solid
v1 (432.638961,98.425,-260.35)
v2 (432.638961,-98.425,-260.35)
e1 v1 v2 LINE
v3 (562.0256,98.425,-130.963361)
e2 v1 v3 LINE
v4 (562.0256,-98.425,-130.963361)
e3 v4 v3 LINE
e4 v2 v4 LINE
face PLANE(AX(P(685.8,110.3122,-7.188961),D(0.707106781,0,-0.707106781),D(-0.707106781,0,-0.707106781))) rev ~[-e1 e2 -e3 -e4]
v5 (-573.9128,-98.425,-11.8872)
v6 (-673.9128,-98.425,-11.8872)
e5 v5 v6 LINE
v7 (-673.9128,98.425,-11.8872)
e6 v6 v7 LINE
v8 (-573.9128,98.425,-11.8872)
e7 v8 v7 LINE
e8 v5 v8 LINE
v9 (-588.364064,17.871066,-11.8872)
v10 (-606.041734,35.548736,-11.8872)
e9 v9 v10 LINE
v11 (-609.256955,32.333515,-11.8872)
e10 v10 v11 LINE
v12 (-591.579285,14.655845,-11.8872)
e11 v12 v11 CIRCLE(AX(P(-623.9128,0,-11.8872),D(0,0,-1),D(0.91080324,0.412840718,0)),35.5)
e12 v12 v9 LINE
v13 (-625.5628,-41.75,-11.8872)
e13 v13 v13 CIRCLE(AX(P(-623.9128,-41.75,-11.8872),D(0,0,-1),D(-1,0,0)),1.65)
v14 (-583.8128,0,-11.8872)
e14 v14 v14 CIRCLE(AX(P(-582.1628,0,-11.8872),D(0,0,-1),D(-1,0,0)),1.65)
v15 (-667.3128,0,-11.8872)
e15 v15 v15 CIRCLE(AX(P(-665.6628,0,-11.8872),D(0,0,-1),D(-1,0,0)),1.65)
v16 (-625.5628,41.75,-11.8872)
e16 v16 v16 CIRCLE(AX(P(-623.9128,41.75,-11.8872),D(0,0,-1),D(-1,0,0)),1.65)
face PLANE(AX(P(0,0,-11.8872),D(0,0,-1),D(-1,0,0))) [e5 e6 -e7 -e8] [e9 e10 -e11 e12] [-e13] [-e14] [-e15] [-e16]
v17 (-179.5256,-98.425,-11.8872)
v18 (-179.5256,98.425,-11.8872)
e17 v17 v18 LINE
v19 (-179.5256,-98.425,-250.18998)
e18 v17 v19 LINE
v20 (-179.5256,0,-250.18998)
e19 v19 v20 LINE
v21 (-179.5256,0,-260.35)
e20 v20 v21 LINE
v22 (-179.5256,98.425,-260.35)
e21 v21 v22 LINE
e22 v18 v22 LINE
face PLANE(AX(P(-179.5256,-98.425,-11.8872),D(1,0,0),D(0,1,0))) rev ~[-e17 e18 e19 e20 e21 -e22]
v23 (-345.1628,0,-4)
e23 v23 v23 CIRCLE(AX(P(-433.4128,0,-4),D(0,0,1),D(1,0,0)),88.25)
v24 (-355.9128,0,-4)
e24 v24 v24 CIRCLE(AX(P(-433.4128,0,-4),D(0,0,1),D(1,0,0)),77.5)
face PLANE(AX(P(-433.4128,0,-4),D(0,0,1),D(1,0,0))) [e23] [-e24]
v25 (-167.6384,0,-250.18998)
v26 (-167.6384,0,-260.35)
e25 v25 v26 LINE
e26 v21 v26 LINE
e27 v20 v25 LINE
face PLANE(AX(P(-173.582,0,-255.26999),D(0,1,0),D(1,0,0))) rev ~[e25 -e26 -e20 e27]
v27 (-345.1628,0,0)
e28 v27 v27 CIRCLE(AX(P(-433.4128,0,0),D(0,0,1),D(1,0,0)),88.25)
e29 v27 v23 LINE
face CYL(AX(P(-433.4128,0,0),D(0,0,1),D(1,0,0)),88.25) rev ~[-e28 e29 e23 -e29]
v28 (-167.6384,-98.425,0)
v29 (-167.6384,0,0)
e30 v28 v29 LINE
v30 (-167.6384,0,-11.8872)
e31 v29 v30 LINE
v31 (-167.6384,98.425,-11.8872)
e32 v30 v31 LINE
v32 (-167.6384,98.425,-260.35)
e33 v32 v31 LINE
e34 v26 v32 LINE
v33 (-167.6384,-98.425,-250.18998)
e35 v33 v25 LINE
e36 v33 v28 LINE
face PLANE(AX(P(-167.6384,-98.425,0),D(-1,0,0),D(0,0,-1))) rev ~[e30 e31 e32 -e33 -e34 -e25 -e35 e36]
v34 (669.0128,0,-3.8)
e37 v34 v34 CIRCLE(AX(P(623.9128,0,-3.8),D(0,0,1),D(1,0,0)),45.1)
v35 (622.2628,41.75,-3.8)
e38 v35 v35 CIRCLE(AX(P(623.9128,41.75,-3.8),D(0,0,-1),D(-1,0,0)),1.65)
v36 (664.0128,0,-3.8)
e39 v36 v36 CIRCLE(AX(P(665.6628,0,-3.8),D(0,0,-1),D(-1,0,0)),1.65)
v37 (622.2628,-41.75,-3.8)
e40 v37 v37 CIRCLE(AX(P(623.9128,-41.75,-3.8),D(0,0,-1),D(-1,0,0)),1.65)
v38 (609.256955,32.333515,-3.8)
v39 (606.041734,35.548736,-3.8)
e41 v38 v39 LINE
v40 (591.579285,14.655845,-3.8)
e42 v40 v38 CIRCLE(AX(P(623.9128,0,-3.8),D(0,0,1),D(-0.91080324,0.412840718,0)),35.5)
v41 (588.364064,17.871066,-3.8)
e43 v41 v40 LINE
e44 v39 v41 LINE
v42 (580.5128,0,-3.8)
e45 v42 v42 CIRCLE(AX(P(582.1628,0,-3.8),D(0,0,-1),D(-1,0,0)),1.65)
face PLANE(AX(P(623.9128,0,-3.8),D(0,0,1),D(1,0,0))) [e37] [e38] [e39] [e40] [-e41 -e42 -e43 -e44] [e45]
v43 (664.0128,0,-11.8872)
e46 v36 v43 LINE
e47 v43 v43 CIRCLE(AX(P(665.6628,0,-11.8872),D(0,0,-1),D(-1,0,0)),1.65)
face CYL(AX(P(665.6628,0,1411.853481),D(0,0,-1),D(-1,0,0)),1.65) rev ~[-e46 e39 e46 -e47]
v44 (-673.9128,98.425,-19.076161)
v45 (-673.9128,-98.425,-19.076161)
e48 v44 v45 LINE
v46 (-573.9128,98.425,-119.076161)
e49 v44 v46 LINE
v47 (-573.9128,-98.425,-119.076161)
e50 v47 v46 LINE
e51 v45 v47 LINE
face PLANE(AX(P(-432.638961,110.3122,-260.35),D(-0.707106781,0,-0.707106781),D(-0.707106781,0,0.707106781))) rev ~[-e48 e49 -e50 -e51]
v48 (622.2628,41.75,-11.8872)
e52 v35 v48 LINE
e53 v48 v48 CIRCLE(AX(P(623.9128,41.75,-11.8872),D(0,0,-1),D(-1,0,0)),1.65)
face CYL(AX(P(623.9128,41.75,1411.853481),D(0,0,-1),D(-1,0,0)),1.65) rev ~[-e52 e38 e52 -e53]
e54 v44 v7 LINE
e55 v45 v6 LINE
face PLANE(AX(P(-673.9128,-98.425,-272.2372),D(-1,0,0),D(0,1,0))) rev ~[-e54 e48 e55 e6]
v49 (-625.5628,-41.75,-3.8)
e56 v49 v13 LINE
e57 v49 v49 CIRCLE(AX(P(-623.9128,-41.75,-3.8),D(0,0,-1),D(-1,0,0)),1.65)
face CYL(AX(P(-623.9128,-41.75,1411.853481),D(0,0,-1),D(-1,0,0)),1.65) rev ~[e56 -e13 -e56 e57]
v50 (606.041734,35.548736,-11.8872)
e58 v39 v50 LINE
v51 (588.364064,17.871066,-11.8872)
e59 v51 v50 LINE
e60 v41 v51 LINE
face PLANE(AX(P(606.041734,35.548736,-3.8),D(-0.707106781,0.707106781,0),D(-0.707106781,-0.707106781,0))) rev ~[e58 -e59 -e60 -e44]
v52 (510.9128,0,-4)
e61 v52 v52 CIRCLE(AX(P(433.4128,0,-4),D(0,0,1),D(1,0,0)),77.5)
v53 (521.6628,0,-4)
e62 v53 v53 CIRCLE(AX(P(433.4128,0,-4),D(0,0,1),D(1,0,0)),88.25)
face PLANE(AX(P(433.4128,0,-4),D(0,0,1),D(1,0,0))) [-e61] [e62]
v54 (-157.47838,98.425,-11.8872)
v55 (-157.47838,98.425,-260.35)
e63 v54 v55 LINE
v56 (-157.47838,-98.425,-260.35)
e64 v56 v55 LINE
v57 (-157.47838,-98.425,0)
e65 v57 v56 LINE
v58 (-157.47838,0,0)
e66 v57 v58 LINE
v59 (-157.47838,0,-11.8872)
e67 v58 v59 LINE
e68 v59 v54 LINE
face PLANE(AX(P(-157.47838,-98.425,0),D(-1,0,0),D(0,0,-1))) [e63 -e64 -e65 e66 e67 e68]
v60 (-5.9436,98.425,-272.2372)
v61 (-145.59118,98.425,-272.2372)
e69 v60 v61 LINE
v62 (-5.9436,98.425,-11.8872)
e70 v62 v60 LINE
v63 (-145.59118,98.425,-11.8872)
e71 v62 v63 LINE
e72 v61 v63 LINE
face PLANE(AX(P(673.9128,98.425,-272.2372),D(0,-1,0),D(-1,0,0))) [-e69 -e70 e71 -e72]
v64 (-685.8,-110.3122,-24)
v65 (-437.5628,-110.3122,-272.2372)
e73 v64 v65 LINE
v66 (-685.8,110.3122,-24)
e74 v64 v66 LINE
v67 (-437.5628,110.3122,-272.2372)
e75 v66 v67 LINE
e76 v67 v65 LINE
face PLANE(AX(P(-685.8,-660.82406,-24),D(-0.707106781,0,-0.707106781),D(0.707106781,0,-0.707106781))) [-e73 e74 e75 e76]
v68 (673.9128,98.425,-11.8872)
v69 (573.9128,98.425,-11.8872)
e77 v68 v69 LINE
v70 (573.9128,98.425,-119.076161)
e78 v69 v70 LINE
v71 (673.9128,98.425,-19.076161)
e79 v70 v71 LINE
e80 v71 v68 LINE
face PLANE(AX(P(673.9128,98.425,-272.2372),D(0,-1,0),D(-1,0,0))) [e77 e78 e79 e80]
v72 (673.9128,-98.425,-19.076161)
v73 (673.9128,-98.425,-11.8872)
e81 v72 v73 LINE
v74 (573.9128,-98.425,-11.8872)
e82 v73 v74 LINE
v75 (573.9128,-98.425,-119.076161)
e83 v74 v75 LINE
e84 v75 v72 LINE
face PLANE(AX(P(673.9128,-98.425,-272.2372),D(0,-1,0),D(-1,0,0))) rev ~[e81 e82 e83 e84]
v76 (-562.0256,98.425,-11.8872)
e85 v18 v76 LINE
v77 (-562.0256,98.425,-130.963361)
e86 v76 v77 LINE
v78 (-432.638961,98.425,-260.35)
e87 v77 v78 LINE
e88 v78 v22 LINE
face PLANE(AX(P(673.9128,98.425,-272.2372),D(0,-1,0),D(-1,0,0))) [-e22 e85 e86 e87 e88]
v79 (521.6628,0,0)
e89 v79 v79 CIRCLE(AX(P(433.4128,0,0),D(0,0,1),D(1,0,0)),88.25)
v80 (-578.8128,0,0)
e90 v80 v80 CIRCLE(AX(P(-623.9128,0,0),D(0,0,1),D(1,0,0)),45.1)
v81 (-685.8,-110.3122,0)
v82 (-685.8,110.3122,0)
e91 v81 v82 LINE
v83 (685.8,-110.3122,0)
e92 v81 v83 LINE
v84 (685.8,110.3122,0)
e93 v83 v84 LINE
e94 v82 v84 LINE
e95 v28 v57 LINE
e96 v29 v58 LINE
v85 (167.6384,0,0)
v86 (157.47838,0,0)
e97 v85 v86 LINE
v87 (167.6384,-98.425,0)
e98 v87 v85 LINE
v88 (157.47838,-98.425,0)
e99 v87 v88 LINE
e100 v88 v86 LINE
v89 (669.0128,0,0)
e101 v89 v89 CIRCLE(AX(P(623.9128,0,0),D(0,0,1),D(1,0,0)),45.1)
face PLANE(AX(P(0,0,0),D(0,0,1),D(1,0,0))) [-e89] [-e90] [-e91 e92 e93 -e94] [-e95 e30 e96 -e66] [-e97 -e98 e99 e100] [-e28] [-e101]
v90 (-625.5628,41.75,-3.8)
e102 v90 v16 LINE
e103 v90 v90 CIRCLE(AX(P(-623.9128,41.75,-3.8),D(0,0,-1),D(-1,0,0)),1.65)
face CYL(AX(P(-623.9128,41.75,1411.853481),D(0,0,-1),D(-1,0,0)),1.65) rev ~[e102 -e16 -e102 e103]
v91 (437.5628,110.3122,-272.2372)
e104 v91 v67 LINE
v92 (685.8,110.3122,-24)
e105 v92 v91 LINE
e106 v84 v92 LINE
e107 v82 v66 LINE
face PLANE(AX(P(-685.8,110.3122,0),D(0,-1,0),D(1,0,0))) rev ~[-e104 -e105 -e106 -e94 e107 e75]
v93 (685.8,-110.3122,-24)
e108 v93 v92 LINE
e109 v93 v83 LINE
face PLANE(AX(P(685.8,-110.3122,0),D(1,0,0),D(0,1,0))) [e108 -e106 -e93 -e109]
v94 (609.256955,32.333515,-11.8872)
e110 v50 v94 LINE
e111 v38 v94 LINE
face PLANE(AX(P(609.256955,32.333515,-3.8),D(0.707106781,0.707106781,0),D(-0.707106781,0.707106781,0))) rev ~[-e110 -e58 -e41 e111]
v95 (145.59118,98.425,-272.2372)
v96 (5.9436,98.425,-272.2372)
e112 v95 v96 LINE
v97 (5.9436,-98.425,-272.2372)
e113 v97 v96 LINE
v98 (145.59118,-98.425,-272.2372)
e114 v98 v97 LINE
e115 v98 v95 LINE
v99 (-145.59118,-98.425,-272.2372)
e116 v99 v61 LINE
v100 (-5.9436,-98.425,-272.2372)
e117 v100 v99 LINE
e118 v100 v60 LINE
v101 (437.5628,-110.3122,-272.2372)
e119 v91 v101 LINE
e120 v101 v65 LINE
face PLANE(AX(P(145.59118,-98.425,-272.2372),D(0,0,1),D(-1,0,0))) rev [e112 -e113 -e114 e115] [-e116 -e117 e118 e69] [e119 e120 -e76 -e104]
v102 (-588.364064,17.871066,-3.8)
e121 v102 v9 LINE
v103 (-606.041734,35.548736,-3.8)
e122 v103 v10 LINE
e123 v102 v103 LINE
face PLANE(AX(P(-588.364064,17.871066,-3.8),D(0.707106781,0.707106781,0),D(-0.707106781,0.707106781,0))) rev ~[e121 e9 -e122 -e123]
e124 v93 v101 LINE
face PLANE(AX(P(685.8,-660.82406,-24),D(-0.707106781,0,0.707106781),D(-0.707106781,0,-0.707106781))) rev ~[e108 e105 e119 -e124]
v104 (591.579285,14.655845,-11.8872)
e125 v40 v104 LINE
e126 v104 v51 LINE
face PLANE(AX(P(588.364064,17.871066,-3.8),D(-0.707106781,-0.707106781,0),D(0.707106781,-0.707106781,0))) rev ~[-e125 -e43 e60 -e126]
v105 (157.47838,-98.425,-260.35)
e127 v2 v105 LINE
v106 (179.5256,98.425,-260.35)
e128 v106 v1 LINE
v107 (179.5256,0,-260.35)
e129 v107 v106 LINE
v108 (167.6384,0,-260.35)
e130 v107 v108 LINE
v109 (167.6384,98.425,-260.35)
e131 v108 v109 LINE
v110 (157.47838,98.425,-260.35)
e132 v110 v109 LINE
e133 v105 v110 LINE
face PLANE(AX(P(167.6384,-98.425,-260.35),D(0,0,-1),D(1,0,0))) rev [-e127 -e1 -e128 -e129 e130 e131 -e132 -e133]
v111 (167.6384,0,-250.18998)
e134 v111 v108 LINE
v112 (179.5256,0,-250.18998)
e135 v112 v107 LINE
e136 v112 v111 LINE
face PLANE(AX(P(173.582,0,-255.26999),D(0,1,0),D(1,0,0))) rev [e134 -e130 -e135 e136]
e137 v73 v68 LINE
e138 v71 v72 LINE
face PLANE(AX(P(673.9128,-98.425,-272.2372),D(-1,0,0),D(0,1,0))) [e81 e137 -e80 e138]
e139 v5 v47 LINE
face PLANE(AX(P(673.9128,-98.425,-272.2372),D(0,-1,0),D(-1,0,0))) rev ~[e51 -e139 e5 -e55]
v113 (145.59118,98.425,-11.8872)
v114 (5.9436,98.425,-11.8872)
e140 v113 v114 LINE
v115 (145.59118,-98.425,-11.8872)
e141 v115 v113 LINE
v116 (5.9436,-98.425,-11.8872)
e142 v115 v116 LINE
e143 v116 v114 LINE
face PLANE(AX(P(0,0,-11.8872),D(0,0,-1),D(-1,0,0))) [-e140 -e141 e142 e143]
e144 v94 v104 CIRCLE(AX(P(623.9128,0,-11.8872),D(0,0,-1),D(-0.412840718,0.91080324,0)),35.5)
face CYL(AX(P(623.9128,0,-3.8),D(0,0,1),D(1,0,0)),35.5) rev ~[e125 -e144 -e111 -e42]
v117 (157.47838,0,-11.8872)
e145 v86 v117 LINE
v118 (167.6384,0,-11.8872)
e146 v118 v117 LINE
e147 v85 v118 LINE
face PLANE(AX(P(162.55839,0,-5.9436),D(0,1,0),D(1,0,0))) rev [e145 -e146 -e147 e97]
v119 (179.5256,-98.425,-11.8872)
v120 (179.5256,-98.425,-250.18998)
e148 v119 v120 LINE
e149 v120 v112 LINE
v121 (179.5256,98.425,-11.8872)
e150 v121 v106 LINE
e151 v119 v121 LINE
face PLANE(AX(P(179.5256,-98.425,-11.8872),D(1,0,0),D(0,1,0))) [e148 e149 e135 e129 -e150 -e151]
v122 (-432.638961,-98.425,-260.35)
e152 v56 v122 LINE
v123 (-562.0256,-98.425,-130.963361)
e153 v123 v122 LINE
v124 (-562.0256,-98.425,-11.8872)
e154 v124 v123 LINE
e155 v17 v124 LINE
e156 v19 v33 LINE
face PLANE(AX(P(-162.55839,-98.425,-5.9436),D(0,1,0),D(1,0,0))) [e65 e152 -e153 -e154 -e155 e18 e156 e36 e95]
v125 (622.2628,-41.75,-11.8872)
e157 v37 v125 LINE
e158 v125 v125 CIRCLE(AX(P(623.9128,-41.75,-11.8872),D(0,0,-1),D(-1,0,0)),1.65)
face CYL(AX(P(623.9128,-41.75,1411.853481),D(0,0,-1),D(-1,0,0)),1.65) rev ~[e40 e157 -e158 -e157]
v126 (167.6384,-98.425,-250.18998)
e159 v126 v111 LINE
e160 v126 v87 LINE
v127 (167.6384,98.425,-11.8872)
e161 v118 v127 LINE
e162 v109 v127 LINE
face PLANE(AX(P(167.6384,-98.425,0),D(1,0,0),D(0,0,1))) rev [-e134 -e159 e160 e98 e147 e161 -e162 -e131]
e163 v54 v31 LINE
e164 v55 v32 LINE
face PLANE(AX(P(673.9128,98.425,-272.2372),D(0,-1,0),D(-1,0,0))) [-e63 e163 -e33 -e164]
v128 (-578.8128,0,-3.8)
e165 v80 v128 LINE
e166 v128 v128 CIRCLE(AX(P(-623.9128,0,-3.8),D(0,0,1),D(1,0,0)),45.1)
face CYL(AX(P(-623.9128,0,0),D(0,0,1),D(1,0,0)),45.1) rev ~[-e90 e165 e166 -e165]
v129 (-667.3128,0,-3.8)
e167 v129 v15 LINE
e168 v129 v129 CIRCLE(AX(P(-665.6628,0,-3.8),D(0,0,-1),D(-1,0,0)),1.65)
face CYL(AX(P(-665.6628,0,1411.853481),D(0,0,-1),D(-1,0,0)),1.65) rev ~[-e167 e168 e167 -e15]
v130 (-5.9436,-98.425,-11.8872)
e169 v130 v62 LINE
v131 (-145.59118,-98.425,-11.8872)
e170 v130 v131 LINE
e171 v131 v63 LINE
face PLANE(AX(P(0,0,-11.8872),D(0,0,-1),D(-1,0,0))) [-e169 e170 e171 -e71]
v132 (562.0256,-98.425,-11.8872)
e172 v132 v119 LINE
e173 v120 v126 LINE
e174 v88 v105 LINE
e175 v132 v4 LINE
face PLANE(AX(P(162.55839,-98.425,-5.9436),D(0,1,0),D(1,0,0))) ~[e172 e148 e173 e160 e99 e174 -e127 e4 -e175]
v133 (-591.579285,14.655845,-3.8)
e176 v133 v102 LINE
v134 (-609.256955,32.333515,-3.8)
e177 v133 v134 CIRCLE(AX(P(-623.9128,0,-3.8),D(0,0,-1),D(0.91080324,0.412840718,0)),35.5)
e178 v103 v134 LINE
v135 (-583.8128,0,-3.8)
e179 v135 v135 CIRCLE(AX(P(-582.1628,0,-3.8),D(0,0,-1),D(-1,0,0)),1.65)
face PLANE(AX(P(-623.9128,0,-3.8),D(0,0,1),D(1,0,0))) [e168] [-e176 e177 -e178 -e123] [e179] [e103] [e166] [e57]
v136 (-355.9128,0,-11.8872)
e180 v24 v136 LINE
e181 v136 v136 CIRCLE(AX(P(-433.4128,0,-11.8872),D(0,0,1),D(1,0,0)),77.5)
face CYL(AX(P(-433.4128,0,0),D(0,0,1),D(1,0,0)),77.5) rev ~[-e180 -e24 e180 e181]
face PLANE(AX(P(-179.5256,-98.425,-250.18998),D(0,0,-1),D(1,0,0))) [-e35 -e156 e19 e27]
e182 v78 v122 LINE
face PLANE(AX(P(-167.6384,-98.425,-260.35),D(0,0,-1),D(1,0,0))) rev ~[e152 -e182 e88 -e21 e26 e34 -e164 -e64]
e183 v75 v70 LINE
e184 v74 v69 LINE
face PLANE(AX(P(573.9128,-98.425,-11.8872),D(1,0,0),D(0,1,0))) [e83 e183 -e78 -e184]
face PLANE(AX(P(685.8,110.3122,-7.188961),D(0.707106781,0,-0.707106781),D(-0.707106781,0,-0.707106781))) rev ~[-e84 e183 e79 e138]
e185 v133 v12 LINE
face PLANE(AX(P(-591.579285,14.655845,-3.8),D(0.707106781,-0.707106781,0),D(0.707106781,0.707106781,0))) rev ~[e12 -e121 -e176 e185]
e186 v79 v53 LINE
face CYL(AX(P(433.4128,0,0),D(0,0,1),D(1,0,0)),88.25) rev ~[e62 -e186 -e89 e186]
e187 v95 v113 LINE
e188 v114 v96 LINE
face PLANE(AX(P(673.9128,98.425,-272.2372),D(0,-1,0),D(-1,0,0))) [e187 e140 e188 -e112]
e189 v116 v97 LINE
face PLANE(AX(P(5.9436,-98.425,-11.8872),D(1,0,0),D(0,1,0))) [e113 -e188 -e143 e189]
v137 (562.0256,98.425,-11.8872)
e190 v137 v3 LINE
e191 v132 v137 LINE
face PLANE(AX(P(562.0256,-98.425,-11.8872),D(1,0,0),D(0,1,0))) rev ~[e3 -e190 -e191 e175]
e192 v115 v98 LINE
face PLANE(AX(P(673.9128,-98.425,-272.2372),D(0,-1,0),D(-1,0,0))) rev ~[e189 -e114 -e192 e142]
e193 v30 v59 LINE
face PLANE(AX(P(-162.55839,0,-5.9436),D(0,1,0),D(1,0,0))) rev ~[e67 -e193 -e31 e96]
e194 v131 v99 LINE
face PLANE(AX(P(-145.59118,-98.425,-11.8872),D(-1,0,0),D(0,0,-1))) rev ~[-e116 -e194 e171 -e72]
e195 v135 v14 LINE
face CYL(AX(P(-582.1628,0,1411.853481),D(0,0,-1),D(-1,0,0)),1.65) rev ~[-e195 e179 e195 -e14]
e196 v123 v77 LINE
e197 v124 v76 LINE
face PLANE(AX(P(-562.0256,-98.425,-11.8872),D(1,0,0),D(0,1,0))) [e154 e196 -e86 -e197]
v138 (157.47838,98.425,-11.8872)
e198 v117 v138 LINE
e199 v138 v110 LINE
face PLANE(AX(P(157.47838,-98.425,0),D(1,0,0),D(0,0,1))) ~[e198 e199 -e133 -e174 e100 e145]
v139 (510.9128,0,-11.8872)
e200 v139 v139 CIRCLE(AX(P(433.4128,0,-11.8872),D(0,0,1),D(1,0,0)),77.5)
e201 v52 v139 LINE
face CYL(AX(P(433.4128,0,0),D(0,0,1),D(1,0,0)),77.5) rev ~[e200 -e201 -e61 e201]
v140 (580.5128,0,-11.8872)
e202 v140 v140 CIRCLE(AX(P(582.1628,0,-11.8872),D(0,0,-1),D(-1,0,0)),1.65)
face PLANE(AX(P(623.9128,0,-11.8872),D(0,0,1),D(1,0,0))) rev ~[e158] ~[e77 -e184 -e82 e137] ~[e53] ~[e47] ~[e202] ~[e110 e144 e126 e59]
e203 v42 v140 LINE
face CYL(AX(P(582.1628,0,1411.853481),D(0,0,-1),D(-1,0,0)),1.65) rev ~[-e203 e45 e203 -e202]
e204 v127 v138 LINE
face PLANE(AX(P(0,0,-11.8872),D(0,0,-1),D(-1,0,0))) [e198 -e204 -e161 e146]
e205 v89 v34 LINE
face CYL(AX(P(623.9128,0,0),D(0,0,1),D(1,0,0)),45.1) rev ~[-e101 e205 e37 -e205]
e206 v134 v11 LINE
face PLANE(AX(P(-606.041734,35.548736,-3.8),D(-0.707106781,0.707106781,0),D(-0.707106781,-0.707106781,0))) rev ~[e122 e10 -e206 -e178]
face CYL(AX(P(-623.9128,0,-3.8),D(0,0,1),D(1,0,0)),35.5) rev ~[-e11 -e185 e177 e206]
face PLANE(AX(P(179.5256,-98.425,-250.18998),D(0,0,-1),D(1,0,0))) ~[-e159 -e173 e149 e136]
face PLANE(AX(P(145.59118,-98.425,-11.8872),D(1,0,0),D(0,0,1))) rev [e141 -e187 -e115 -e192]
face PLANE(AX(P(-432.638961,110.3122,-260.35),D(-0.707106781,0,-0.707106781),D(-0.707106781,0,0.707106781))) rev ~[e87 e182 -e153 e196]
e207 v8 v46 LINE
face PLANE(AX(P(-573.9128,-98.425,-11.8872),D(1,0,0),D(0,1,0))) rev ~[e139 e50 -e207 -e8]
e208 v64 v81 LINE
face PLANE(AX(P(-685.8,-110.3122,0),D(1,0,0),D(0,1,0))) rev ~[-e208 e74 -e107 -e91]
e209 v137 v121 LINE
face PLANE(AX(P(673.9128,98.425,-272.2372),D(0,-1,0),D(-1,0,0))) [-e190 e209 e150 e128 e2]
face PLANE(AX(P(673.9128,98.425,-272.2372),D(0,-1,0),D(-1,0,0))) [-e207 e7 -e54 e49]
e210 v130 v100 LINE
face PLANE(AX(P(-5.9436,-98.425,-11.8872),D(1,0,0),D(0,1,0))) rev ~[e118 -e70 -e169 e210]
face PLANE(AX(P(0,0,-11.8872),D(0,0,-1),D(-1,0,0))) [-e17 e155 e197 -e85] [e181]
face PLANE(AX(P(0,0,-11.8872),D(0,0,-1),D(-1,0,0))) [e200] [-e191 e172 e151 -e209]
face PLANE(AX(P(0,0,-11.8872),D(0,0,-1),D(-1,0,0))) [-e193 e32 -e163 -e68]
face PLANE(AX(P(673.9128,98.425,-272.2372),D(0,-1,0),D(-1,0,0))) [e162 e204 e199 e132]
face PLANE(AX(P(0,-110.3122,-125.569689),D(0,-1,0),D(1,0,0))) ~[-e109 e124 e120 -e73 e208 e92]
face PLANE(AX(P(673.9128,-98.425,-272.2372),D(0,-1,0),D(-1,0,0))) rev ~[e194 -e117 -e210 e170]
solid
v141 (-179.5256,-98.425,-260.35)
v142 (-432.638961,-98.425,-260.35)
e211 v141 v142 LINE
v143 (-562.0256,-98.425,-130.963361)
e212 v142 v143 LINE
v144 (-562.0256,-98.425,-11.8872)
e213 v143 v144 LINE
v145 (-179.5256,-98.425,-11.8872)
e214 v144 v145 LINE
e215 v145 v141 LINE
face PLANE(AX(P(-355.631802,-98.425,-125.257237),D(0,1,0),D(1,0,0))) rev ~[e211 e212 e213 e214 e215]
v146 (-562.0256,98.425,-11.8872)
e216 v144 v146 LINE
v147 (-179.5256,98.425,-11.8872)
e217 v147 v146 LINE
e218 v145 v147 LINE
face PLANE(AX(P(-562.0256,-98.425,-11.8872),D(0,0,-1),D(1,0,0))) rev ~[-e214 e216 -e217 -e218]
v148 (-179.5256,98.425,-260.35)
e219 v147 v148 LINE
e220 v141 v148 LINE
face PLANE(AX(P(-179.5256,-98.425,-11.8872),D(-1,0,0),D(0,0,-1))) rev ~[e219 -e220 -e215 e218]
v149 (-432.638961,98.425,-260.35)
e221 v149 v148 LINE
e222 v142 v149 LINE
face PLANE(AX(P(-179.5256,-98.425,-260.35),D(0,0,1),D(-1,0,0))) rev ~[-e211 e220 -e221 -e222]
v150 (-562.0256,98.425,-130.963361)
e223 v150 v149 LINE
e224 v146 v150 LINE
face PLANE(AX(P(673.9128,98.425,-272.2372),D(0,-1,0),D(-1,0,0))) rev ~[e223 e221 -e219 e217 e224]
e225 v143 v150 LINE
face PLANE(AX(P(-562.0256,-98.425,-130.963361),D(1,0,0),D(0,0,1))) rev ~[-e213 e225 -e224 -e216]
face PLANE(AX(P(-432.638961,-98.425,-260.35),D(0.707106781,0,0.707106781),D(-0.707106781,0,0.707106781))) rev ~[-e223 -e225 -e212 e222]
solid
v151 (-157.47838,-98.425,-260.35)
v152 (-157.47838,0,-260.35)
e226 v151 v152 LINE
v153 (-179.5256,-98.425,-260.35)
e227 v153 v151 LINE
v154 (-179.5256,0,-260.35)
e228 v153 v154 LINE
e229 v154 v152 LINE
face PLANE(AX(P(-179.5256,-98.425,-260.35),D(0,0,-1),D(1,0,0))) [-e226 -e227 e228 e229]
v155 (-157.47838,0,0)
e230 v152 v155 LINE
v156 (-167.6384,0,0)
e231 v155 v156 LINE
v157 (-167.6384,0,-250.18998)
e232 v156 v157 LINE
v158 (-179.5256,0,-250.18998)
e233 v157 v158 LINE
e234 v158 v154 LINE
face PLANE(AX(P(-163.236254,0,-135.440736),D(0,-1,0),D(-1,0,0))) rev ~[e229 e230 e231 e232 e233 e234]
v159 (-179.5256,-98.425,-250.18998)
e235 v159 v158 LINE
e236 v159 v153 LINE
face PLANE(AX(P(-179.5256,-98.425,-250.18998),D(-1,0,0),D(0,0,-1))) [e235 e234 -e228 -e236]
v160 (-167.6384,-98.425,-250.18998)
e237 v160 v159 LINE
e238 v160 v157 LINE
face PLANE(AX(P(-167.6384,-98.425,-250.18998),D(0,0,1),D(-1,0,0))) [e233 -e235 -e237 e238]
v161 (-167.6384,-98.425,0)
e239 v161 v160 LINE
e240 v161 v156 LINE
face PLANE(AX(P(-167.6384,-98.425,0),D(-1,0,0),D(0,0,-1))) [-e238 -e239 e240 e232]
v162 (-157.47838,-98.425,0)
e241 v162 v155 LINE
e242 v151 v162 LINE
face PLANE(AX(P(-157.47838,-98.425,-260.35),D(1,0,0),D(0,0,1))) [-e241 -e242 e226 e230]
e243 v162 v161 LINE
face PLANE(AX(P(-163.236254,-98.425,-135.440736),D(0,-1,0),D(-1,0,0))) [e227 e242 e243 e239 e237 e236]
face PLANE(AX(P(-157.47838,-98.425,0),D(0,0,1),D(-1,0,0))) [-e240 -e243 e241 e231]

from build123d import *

# Parameters (mm, degrees)
SKETCH1_W                        = 1371.6
SKETCH1_H                        = 220.6244
BOSS_EXTRUDE1_DEPTH              = 272.2372
SKETCH3_W                        = 1347.8256
SKETCH3_H                        = 196.85
CUT_EXTRUDE2_DEPTH               = 260.35
SKETCH4_W                        = 11.8872
SKETCH4_H                        = 196.85
BOSS_EXTRUDE4_DEPTH              = 260.35
CUT_EXTRUDE3_DEPTH               = 771.136259982
CUT_EXTRUDE3_DEPTH_BACK          = 771.136259982
SKETCH5_W                        = 11.8872
SKETCH5_H                        = 196.85
INTERNAL_BRACING_DEPTH           = 260.35
SKETCH2_R                        = 77.5
SKETCH2_R_2                      = 45.1
CUT_EXTRUDE1_DEPTH               = 14
BOSS_EXTRUDE2_START              = -3.8
SKETCH128_R                      = 45.1
SKETCH128_R_2                    = 35.5
BOSS_EXTRUDE2_DEPTH              = 8.0872
CUT_EXTRUDE4_REACH               = 746.68
M4X0_7_TAPPED_HOLE1_D            = 3.3
SKETCH193_R                      = 88.25
CUT_EXTRUDE6_DEPTH               = 4
BOSS_EXTRUDE7_DEPTH              = 220.6244
BOSS_EXTRUDE11_REACH             = 768.815
BOSS_EXTRUDE11_DIRECTION_2_REACH = 768.815
SKETCH198_W                      = 11.8872
SKETCH198_H                      = 10.16002032
SKETCH198_W_2                    = 10.16002032
SKETCH198_H_2                    = 11.8872
CUT_EXTRUDE7_DEPTH               = 98.425
BOSS_EXTRUDE12_DEPTH             = 98.425
BOSS_EXTRUDE13_REACH             = 768.815


with BuildPart() as part:
    # Sketch1 → Boss-Extrude1 (new body)
    with BuildSketch(Plane.XY):
        Rectangle(SKETCH1_W, SKETCH1_H)
    extrude(amount=-BOSS_EXTRUDE1_DEPTH)

    # Sketch3 → Cut-Extrude2 (cut)
    with BuildSketch(Plane(origin=(0, 0, -272.2372), x_dir=(-1, 0, 0), z_dir=(0, 0, -1))):
        Rectangle(SKETCH3_W, SKETCH3_H)
    extrude(amount=-CUT_EXTRUDE2_DEPTH, mode=Mode.SUBTRACT)

    # Sketch4 → Boss-Extrude4 (add)
    with BuildSketch(Plane(origin=(0, 0, -11.8872), x_dir=(-1, 0, 0), z_dir=(0, 0, -1))):
        with Locations((-567.9692, 0)):
            Rectangle(SKETCH4_W, SKETCH4_H)
        with Locations((567.9692, 0)):
            Rectangle(SKETCH4_W, SKETCH4_H)
    extrude(amount=BOSS_EXTRUDE4_DEPTH)

    # Sketch23 → Cut-Extrude3 (cut, two sides: drawn at the far end of the back side and taken through both)
    with BuildSketch(Plane(origin=(0, 110.3122, 0), x_dir=(1, 0, 0), z_dir=(0, 1, 0)).offset(-CUT_EXTRUDE3_DEPTH_BACK)):
        Polygon((-685.8, 24), (-437.5628, 272.2372), (-685.8, 272.2372), align=None)
        Polygon((685.8, 272.2372), (685.8, 24), (437.5628, 272.2372), align=None)
    extrude(amount=CUT_EXTRUDE3_DEPTH + CUT_EXTRUDE3_DEPTH_BACK, mode=Mode.SUBTRACT)

    # Sketch5 → INTERNAL BRACING (add)
    with BuildSketch(Plane(origin=(0, 0, -11.8872), x_dir=(-1, 0, 0), z_dir=(0, 0, -1))):
        with Locations((173.582, 0)):
            Rectangle(SKETCH5_W, SKETCH5_H)
        with Locations((-173.582, 0)):
            Rectangle(SKETCH5_W, SKETCH5_H)
        Rectangle(SKETCH5_W, SKETCH5_H)
    extrude(amount=INTERNAL_BRACING_DEPTH)

    # Sketch2 → Cut-Extrude1 (cut)
    with BuildSketch(Plane.XY):
        with Locations((433.4128, 0)):
            Circle(SKETCH2_R)
        with Locations((623.9128, 0)):
            Circle(SKETCH2_R_2)
        with Locations((-433.4128, 0)):
            Circle(SKETCH2_R)
        with Locations((-623.9128, 0)):
            Circle(SKETCH2_R_2)
    extrude(amount=-CUT_EXTRUDE1_DEPTH, mode=Mode.SUBTRACT)

    # Sketch128 → Boss-Extrude2 (add)
    # profile 1 of 2: a face of its own
    with BuildSketch(Plane.XY.offset(BOSS_EXTRUDE2_START)):
        with Locations((623.9128, 0)):
            Circle(SKETCH128_R)
        with Locations((623.9128, 0)):
            Circle(SKETCH128_R_2, mode=Mode.SUBTRACT)
    # profile 2 of 2: a face of its own
    with BuildSketch(Plane.XY.offset(BOSS_EXTRUDE2_START)):
        with Locations((-623.9128, 0)):
            Circle(SKETCH128_R)
        with Locations((-623.9128, 0)):
            Circle(SKETCH128_R_2, mode=Mode.SUBTRACT)
    extrude(amount=-BOSS_EXTRUDE2_DEPTH)

    # Sketch129 → Cut-Extrude4 (cut, up to next)
    with BuildSketch(Plane.XY.offset(-3.8), mode=Mode.PRIVATE) as cut_extrude4_sk1:
        Polygon((-588.36406402, 17.87106645), (-606.04173355, 35.54873598), (-609.256954516, 32.333515014), (-591.579284986, 14.655845484), align=None)
    cut_extrude4_tool1 = extrude(cut_extrude4_sk1.sketch, amount=-CUT_EXTRUDE4_REACH, mode=Mode.PRIVATE) & part.part
    # Sketch129 → Cut-Extrude4 (cut, up to next)
    with BuildSketch(Plane.XY.offset(-3.8), mode=Mode.PRIVATE) as cut_extrude4_sk2:
        Polygon((591.579284986, 14.655845484), (609.256954516, 32.333515014), (606.04173355, 35.54873598), (588.36406402, 17.87106645), align=None)
    cut_extrude4_tool2 = extrude(cut_extrude4_sk2.sketch, amount=-CUT_EXTRUDE4_REACH, mode=Mode.PRIVATE) & part.part
    add(cut_extrude4_tool1.solids().sort_by_distance((-598.810509, 25.102291, -3.8))[0], mode=Mode.SUBTRACT)
    add(cut_extrude4_tool2.solids().sort_by_distance((598.810509, 25.102291, -3.8))[0], mode=Mode.SUBTRACT)

    # M4x0.7 Tapped Hole1 (through all)
    with Locations(Plane.XY.offset(-3.8)):
        with Locations((665.6628, 0), (-665.6628, 0), (-623.9128, 41.75), (-582.1628, 0), (-623.9128, -41.75), (623.9128, -41.75), (582.1628, 0), (623.9128, 41.75)):
            Hole(M4X0_7_TAPPED_HOLE1_D / 2)

    # Sketch193 → Cut-Extrude6 (cut)
    with BuildSketch(Plane.XY):
        with Locations((-433.4128, 0)):
            Circle(SKETCH193_R)
        with Locations((433.4128, 0)):
            Circle(SKETCH193_R)
    extrude(amount=-CUT_EXTRUDE6_DEPTH, mode=Mode.SUBTRACT)

    # Sketch196 → Boss-Extrude7 (add)
    with BuildSketch(Plane(origin=(0, 110.3122, 0), x_dir=(1, 0, 0), z_dir=(0, 1, 0))):
        Polygon((-432.638960541, 260.35), (-685.8, 7.188960541), (-685.8, 24), (-437.5628, 272.2372), (-167.6384, 272.2372), (-167.6384, 260.35), align=None)
        Polygon((685.8, 7.188960541), (432.638960541, 260.35), (167.6384, 260.35), (167.6384, 272.2372), (437.5628, 272.2372), (685.8, 24), align=None)
    extrude(amount=-BOSS_EXTRUDE7_DEPTH)

    # Sketch197 → Boss-Extrude11 (add, up to next)
    with BuildSketch(Plane(origin=(0, -98.425, 0), x_dir=(1, 0, 0), z_dir=(0, 1, 0)), mode=Mode.PRIVATE) as boss_extrude11_sk1:
        Polygon((-145.59117968, 11.8872), (-145.59117968, 272.2372), (-167.6384, 272.2372), (-167.6384, 260.35), (-157.47837968, 260.35), (-157.47837968, 11.8872), align=None)
    boss_extrude11_tool1 = extrude(boss_extrude11_sk1.sketch, amount=BOSS_EXTRUDE11_REACH, mode=Mode.PRIVATE) - part.part
    boss_extrude11 = boss_extrude11_tool1.solids().sort_by_distance((-151.948813, -98.425, -146.728177))[0]
    add(boss_extrude11)

    # Boss-Extrude11 direction 2: up to this face of the body (flat: up to its plane)
    boss_extrude11_direction_2_end = Plane(part.part.faces().sort_by_distance((0, -110.3122, -125.569689055))[0])
    # Sketch197 → Boss-Extrude11 direction 2 (add, up to the picked face)
    with BuildSketch(Plane(origin=(0, -98.425, 0), x_dir=(1, 0, 0), z_dir=(0, 1, 0)), mode=Mode.PRIVATE) as boss_extrude11_direction_2_sk1:
        Polygon((-145.59117968, 11.8872), (-145.59117968, 272.2372), (-167.6384, 272.2372), (-167.6384, 260.35), (-157.47837968, 260.35), (-157.47837968, 11.8872), align=None)
    boss_extrude11_direction_2_tool1 = split(extrude(boss_extrude11_direction_2_sk1.sketch, amount=-BOSS_EXTRUDE11_DIRECTION_2_REACH, mode=Mode.PRIVATE), bisect_by=boss_extrude11_direction_2_end, keep=Keep.BOTH, mode=Mode.PRIVATE)
    boss_extrude11_direction_2 = boss_extrude11_direction_2_tool1.solids().sort_by(Axis((-151.948813, -98.425, -146.728177), (0, -1, 0)))[0]
    add(boss_extrude11_direction_2)

    # Sketch198 → Cut-Extrude7 (cut)
    with BuildSketch(Plane(origin=(0, -98.425, 0), x_dir=(1, 0, 0), z_dir=(0, 1, 0))):
        with Locations((-173.582, 255.26998984)):
            Rectangle(SKETCH198_W, SKETCH198_H)
        with Locations((-162.55838984, 5.9436)):
            Rectangle(SKETCH198_W_2, SKETCH198_H_2)
    cut_extrude7 = extrude(amount=CUT_EXTRUDE7_DEPTH, mode=Mode.SUBTRACT)

    # Mirror1: Boss-Extrude11, Boss-Extrude11 direction 2, Cut-Extrude7 across plane
    add(boss_extrude11.mirror(Plane(origin=(0, 0, 0), x_dir=(0, 0, 1), z_dir=(1, 0, 0))))
    add(boss_extrude11_direction_2.mirror(Plane(origin=(0, 0, 0), x_dir=(0, 0, 1), z_dir=(1, 0, 0))))
    add(cut_extrude7.mirror(Plane(origin=(0, 0, 0), x_dir=(0, 0, 1), z_dir=(1, 0, 0))), mode=Mode.SUBTRACT)


with BuildPart() as body_2:
    # Sketch199 → Boss-Extrude12 (new body)
    with BuildSketch(Plane(origin=(0, -98.425, 0), x_dir=(1, 0, 0), z_dir=(0, 1, 0))):
        Polygon((-179.5256, 250.18997968), (-179.5256, 260.35), (-157.47837968, 260.35), (-157.47837968, 0), (-167.6384, 0), (-167.6384, 250.18997968), align=None)
    extrude(amount=BOSS_EXTRUDE12_DEPTH)


with BuildPart() as body_3:

    # Sketch200 → Boss-Extrude13 (new, up to next)
    with BuildSketch(Plane(origin=(0, -98.425, 0), x_dir=(1, 0, 0), z_dir=(0, 1, 0)), mode=Mode.PRIVATE) as boss_extrude13_sk1:
        Polygon((-179.5256, 11.8872), (-179.5256, 260.35), (-432.638960541, 260.35), (-562.0256, 130.963360541), (-562.0256, 11.8872), align=None)
    boss_extrude13_tool1 = extrude(boss_extrude13_sk1.sketch, amount=BOSS_EXTRUDE13_REACH, mode=Mode.PRIVATE) - part.part
    add(boss_extrude13_tool1.solids().sort_by_distance((-356.469731, -98.425, -128.285537))[0])


solid = Compound([part.part, body_2.part, body_3.part])
